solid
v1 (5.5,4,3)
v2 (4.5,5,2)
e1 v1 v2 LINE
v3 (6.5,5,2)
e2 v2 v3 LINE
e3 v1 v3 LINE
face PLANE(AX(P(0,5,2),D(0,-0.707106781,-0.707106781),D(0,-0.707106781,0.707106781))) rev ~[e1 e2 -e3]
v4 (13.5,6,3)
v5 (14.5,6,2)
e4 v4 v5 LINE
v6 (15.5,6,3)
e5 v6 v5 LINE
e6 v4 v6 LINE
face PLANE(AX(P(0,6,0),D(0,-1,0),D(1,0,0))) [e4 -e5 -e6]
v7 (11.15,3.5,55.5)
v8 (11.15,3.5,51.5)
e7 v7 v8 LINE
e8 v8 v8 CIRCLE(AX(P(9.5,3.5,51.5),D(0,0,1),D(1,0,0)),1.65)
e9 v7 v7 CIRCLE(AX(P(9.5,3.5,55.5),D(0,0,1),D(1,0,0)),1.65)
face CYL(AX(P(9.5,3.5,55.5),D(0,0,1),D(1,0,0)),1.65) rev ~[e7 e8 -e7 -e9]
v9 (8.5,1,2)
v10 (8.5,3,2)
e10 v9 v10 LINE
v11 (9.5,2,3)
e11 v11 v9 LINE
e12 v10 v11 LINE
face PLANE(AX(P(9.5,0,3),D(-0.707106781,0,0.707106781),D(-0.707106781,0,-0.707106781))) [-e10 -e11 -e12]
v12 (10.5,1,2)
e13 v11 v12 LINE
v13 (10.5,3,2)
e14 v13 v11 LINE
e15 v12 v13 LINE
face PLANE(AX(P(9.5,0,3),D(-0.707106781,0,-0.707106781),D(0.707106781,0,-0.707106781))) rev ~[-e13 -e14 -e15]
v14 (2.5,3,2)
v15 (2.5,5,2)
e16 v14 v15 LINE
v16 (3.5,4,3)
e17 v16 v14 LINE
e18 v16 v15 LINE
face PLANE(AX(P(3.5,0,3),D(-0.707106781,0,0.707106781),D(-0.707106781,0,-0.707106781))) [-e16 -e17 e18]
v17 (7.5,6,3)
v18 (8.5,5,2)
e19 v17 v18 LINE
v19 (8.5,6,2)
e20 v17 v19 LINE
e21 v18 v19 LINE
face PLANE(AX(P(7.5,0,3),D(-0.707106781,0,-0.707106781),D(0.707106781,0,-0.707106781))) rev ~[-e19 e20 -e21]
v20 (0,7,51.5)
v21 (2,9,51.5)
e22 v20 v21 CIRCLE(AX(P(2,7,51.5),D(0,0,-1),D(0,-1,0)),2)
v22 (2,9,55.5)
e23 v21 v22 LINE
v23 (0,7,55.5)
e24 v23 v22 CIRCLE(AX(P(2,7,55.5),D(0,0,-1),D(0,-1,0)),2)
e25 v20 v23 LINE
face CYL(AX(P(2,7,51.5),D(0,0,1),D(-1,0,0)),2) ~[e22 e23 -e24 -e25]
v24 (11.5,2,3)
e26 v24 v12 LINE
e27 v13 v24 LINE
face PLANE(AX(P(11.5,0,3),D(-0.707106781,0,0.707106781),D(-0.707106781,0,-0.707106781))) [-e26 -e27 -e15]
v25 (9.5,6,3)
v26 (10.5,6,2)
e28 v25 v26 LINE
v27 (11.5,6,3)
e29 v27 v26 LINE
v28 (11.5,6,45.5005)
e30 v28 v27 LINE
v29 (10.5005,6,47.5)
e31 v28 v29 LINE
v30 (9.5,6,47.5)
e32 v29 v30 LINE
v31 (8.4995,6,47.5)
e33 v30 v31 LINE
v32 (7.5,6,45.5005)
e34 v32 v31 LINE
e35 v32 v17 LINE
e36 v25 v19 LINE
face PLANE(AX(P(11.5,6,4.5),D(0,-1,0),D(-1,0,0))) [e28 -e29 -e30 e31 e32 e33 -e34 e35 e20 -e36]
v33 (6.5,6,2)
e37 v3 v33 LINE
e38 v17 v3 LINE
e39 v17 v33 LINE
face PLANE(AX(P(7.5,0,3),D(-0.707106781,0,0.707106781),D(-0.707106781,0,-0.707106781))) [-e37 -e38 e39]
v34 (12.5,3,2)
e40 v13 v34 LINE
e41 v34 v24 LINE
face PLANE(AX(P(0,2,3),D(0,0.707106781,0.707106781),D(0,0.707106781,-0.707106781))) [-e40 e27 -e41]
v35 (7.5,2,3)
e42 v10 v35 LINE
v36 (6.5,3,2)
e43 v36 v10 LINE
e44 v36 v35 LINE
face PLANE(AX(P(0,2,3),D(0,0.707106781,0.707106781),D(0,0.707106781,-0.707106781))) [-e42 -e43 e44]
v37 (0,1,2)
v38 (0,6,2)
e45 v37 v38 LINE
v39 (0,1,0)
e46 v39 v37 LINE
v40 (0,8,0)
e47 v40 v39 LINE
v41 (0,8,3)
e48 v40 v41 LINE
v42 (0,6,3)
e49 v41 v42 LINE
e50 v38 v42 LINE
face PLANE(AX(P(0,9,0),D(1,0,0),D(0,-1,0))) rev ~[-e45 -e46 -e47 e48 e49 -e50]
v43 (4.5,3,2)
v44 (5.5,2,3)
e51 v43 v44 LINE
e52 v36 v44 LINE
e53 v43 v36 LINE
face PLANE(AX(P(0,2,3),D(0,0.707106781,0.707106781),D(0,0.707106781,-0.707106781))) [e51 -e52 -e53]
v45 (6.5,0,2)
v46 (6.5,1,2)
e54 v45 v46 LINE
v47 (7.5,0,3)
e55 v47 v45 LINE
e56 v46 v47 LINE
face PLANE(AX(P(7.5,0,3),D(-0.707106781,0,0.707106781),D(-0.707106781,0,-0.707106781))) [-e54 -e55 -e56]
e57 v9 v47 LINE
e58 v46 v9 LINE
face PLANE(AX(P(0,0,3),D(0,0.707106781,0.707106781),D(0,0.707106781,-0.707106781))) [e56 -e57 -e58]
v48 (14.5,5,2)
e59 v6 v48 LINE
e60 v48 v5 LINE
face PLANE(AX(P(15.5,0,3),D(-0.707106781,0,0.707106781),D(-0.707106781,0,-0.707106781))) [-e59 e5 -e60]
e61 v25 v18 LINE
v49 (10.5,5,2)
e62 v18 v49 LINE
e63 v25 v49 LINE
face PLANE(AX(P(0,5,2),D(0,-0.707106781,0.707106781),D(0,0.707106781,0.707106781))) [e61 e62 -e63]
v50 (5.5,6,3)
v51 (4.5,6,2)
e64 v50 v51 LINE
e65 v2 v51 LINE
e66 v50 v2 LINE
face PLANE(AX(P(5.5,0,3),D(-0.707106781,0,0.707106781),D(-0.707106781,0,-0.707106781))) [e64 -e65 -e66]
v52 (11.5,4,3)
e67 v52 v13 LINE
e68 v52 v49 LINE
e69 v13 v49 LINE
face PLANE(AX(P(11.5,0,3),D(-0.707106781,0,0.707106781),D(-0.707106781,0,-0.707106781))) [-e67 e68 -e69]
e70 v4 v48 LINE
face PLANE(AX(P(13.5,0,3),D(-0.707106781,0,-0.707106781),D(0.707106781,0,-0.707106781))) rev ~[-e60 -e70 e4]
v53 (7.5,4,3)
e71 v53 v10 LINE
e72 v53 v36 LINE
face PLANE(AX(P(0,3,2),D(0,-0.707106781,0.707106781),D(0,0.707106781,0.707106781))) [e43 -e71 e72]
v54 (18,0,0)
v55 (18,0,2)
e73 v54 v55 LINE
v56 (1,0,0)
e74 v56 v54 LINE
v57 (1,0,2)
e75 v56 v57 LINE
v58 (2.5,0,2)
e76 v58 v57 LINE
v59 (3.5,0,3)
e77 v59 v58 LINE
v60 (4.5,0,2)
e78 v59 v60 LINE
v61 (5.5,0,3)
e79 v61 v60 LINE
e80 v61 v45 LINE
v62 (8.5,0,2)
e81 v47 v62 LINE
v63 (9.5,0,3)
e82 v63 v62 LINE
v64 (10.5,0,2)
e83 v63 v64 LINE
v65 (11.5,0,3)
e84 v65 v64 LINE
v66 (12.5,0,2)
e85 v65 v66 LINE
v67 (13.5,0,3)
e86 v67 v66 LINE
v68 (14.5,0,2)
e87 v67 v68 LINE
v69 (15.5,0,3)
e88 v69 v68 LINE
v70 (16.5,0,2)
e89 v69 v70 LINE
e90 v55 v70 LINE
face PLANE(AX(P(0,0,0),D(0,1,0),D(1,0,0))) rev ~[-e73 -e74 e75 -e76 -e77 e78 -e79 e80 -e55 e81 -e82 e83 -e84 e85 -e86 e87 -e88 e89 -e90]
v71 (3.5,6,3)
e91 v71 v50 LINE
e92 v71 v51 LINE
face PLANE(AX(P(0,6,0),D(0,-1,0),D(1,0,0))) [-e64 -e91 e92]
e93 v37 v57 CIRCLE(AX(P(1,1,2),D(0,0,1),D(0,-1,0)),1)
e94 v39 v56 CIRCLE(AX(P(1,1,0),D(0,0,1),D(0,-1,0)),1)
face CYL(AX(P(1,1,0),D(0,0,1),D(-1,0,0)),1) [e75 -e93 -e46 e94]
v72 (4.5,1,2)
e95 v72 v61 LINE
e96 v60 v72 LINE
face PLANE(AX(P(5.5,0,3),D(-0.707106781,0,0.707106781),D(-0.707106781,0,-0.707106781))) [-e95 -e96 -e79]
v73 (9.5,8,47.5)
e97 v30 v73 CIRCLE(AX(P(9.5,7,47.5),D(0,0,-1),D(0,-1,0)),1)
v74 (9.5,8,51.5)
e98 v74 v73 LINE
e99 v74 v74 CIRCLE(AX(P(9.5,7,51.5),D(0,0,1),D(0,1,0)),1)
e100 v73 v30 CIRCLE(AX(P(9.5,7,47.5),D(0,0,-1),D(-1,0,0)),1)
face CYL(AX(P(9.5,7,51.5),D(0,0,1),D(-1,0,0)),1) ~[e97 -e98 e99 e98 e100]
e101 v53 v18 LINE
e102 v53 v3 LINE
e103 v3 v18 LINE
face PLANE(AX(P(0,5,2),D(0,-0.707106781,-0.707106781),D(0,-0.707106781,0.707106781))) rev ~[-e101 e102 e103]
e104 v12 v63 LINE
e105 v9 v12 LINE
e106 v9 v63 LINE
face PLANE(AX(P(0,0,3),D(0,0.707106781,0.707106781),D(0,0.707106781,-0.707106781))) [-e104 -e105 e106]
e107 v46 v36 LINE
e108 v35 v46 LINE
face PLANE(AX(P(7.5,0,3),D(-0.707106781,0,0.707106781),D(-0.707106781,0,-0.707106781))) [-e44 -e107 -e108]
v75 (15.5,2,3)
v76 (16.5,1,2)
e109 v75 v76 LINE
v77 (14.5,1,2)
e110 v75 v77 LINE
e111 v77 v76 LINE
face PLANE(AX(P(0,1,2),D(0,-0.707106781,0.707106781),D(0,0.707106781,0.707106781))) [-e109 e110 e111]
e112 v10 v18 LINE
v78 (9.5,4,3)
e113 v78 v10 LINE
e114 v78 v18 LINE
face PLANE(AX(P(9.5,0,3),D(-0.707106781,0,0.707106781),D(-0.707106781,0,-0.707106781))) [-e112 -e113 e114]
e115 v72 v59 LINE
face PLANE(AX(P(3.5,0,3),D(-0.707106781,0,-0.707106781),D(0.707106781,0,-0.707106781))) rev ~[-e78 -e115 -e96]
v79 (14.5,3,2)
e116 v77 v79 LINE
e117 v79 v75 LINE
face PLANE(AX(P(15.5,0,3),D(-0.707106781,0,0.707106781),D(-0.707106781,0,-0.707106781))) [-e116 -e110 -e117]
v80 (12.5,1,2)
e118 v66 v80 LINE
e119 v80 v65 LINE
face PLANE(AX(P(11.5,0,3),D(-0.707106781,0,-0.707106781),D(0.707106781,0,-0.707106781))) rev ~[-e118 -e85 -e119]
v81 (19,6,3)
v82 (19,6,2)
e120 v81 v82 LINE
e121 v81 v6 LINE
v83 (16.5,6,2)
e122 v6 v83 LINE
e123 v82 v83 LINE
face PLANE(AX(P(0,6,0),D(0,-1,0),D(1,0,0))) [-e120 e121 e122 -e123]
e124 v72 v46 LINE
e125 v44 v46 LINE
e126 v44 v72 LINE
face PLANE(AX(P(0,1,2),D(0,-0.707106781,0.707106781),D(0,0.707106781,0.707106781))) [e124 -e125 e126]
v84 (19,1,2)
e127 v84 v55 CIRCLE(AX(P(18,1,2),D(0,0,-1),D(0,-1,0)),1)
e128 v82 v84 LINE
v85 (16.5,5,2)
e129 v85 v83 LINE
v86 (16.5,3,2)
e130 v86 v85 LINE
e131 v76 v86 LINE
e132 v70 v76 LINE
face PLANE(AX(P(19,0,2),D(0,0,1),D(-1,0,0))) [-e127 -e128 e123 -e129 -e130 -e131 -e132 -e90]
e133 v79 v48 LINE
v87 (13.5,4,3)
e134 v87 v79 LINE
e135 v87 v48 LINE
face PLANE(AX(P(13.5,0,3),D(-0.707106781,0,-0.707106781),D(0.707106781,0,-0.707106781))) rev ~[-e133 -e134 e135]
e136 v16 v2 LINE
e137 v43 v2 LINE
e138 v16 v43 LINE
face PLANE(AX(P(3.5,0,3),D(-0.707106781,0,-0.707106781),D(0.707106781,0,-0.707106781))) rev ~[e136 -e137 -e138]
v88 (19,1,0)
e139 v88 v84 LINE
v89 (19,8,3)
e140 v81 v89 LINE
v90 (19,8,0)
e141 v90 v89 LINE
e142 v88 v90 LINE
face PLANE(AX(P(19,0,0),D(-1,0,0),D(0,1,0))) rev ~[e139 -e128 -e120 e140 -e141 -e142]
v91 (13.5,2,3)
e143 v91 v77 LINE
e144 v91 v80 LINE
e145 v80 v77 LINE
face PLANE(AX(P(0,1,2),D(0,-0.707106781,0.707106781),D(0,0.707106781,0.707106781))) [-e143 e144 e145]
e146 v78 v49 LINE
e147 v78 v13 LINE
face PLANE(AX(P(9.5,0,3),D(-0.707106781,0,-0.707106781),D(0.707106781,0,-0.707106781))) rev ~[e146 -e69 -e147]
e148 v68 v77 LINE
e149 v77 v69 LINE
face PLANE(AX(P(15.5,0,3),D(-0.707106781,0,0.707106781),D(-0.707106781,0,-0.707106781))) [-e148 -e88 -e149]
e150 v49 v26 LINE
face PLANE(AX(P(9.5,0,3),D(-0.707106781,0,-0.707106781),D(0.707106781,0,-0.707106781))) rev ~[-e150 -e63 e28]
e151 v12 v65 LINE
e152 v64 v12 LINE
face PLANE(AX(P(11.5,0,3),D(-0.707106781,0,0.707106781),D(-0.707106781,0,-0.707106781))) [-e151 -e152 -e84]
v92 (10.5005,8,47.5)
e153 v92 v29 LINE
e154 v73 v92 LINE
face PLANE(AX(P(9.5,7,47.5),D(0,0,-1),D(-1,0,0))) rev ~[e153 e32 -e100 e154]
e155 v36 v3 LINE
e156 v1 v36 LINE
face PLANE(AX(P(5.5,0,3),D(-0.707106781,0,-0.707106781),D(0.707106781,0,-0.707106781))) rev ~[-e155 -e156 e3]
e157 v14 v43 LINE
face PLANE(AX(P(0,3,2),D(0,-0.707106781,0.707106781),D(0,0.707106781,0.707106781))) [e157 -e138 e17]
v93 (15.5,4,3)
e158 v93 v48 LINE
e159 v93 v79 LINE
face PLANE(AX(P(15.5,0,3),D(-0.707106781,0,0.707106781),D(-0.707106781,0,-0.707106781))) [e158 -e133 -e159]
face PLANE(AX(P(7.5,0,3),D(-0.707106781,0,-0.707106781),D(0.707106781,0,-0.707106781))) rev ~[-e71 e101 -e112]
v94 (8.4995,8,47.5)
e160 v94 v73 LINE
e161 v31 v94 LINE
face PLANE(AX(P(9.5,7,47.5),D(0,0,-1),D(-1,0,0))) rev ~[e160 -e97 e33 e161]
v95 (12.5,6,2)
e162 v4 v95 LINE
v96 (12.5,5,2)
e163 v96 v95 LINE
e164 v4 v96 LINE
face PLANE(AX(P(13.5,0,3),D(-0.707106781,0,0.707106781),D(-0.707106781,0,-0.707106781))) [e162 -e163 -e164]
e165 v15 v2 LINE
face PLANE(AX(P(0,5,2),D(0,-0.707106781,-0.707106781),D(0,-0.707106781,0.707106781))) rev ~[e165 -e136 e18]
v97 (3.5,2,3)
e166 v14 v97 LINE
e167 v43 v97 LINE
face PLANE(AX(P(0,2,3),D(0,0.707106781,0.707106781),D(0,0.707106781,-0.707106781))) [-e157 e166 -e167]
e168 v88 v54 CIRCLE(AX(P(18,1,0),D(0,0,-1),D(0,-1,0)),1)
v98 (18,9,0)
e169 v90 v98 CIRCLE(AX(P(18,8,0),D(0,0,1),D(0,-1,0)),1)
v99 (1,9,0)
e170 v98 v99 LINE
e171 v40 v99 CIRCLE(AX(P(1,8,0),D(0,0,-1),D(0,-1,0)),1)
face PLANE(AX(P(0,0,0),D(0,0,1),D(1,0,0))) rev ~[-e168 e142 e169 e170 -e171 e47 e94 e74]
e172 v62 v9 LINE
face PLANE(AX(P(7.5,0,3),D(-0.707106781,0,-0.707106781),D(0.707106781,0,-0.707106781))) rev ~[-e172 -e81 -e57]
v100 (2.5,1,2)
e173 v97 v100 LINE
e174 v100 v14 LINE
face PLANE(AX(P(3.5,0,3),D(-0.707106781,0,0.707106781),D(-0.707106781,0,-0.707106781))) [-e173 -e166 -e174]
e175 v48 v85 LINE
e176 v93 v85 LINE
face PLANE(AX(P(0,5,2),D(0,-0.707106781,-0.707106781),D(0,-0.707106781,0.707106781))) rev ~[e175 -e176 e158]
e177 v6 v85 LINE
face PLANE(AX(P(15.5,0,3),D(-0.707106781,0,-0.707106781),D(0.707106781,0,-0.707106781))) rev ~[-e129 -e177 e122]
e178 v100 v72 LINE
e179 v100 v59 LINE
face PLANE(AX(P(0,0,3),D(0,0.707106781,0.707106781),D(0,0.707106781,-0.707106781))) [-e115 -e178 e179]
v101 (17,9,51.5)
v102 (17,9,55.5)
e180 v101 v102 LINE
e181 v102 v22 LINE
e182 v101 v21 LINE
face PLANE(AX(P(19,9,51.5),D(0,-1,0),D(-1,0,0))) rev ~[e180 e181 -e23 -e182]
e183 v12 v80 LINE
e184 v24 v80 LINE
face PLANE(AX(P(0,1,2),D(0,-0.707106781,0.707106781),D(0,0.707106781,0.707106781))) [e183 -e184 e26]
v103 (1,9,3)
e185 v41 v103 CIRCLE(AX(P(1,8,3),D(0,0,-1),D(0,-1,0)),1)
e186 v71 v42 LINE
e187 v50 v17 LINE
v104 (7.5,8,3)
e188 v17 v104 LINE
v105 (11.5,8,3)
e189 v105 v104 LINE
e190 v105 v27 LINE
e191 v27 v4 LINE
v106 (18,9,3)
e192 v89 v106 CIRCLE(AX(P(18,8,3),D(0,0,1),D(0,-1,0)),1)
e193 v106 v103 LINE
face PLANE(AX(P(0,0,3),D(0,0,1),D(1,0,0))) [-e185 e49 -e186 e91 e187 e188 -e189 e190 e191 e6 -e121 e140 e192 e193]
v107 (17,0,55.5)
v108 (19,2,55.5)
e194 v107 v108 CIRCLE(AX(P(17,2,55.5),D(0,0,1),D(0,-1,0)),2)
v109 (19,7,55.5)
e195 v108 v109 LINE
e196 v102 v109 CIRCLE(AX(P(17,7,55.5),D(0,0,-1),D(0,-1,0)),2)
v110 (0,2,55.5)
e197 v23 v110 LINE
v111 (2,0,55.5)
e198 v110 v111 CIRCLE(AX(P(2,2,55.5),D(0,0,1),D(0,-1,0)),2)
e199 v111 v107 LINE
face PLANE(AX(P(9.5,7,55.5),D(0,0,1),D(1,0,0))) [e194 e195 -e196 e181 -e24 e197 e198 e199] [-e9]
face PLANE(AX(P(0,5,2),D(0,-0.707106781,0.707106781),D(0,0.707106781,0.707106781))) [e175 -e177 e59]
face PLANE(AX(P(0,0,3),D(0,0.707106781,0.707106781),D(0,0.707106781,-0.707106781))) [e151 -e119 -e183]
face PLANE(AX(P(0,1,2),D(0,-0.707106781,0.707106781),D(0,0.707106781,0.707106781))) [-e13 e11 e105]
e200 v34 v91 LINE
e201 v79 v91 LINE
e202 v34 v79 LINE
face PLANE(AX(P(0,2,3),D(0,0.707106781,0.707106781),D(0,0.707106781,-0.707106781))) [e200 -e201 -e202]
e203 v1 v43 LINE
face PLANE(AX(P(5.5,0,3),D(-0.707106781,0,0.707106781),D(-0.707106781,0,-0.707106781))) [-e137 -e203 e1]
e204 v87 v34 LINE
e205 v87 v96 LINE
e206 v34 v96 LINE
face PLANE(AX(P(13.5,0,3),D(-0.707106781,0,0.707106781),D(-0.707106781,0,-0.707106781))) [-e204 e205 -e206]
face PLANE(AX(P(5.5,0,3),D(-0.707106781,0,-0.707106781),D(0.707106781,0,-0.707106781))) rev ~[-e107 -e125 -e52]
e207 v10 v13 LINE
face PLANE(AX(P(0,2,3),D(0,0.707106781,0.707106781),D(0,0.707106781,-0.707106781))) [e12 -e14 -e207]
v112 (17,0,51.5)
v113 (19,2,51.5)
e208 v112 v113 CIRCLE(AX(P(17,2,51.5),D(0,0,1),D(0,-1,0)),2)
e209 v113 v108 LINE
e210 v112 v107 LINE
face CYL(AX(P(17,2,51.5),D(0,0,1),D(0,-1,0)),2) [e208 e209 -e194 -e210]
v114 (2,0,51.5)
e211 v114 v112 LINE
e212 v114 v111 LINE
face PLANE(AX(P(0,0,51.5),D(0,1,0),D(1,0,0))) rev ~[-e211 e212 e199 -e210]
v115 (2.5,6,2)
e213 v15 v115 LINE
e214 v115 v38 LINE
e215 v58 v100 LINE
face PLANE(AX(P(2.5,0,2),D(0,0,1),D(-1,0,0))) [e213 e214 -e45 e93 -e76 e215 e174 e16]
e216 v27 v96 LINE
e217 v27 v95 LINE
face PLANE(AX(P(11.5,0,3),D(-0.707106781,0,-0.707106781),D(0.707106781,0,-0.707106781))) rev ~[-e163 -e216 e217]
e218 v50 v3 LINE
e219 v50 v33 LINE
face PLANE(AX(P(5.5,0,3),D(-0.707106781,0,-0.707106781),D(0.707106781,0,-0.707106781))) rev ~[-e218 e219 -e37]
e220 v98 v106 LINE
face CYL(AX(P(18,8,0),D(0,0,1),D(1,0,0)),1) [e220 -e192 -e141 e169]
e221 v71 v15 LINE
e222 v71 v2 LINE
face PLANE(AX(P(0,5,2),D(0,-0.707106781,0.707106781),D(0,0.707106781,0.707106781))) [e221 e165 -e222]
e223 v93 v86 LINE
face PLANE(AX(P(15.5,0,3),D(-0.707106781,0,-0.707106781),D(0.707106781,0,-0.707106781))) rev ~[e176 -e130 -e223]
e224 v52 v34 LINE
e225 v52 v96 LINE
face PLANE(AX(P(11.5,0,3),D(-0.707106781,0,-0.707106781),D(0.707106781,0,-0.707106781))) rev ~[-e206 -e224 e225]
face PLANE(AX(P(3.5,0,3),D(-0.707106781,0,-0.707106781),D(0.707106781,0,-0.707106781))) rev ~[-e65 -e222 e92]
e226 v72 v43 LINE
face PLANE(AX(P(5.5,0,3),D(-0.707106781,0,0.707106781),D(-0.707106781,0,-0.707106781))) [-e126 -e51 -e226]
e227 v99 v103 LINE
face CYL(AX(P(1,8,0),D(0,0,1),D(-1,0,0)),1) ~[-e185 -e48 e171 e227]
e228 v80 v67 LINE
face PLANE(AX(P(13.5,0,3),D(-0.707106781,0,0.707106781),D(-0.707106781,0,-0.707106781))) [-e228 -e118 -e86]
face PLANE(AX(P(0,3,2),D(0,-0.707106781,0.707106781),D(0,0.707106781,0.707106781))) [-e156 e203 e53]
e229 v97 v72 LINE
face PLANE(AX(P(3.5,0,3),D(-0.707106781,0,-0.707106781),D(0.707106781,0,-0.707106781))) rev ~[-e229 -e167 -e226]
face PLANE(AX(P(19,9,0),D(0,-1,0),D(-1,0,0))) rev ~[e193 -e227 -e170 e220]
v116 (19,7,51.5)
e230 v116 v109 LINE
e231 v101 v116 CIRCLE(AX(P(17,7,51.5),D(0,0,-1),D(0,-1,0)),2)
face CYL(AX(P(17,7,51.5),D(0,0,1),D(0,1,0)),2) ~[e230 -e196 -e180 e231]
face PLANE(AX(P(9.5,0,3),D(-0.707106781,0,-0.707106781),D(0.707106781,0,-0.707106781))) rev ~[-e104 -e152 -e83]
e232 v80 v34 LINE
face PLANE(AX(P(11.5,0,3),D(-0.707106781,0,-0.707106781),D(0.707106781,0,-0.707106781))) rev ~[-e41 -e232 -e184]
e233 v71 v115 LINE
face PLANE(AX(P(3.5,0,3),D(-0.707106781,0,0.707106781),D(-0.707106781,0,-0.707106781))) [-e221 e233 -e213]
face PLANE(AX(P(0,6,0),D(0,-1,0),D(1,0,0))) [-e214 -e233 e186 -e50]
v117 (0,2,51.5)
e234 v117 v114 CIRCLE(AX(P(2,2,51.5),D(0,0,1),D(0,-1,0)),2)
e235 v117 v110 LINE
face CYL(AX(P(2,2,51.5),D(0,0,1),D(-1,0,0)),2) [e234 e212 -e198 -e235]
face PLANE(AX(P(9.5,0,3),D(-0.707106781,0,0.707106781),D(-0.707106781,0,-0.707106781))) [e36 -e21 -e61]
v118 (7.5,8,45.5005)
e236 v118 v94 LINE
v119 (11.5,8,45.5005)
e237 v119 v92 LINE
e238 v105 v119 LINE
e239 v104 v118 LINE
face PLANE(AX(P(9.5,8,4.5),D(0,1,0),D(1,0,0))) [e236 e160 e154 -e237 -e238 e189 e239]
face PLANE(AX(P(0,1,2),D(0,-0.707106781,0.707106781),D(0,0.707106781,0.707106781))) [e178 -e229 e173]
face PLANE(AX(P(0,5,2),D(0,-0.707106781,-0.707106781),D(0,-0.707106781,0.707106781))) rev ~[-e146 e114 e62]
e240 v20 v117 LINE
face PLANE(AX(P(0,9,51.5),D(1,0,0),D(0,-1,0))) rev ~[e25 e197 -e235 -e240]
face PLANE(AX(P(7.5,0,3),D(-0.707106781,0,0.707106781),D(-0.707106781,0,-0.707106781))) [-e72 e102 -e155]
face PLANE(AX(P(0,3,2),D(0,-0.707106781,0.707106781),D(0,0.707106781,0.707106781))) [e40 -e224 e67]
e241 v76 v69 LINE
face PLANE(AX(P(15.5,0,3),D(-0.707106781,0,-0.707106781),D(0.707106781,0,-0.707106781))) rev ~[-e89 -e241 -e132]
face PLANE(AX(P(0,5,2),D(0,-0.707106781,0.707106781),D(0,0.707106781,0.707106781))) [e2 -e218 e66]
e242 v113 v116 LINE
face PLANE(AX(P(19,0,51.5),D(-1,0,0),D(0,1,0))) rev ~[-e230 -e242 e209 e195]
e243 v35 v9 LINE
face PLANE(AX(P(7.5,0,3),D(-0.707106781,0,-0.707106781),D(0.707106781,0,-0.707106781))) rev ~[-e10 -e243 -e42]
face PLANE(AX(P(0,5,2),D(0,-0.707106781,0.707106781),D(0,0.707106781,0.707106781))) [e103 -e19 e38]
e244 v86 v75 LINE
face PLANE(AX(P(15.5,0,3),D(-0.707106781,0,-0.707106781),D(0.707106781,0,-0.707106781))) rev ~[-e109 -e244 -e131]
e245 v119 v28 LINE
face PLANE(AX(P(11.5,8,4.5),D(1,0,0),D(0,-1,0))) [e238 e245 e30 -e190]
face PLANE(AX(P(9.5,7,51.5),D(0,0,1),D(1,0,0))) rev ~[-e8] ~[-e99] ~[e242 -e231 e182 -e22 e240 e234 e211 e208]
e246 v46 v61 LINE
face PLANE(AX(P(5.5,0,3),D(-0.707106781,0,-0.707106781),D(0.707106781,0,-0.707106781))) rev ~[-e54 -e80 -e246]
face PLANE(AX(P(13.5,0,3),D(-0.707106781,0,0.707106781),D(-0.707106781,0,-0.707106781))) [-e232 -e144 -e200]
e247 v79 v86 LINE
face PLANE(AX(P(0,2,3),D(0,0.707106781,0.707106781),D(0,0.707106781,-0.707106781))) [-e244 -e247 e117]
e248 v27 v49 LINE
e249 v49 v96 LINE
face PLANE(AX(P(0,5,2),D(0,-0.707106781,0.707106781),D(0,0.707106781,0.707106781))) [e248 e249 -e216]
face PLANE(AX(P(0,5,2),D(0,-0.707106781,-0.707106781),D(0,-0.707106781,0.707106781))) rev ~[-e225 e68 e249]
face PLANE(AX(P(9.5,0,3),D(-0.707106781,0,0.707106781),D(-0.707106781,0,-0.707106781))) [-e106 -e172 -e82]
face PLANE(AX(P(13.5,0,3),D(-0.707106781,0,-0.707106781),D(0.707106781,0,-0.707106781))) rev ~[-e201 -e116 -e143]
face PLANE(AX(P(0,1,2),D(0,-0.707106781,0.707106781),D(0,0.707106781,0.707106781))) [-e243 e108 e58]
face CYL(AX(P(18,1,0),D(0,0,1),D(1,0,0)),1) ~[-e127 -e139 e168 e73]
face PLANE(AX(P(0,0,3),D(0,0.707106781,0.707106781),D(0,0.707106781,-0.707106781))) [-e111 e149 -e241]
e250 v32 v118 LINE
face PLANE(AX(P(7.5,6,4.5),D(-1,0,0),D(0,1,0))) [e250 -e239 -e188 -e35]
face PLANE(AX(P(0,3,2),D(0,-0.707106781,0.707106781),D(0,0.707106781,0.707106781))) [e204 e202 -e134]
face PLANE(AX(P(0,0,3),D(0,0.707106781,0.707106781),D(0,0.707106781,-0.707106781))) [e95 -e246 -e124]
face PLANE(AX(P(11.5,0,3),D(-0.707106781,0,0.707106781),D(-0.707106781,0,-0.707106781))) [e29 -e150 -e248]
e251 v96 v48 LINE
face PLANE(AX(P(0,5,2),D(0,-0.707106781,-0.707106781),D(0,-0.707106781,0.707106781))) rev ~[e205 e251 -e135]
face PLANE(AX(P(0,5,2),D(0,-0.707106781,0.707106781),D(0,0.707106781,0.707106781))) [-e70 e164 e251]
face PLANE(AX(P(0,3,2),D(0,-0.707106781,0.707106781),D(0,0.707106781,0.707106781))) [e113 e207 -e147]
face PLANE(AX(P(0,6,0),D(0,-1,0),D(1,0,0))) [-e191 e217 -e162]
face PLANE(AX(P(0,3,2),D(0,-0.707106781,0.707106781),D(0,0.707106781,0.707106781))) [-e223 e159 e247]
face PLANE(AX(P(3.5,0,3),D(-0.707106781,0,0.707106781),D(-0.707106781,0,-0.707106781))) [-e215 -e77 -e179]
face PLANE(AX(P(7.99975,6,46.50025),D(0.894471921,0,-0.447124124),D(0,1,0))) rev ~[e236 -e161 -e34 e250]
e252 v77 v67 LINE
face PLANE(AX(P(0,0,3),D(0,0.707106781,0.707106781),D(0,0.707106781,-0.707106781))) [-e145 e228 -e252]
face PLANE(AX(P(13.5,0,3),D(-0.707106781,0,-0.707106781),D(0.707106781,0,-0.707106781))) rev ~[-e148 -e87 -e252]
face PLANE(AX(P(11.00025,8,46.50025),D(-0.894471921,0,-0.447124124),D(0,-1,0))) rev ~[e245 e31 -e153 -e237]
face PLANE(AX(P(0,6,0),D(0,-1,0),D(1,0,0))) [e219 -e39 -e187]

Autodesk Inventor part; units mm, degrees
ref_plane "YZ Plane" through (0, 0, 0) normal (1, 0, 0) x (0, 1, 0)
ref_plane "XZ Plane" through (0, 0, 0) normal (0, 1, 0) x (-1, 0, 0)
ref_plane "XY Plane" through (0, 0, 0) normal (0, 0, 1) x (1, 0, 0)
sketch "Sketch1" plane through (0, 0, 0) normal (0, 0, 1) x (1, 0, 0)
  line L0 (0, 0) -> (19, 0)
  line L1 (19, 0) -> (19, 9)
  line L2 (19, 9) -> (0, 9)
  line L3 (0, 9) -> (0, 0)
  point P0 (9.5, 9)
  dimension "d0" = 19
  dimension "d1" = 9
extrude "Extrusion1" add sketch "Sketch1" along normal blind 3
sketch "Sketch2" plane through (0, 0, 3) normal (0, 0, 1) x (1, 0, 0)
  line L0 (19, 9) -> (0, 9) projected
  circle A0 centre (9.5, 7) radius 1
  point P0 (0, 0)
  point P1 (9.5, 9)
  dimension "d4" = 2
  dimension "d5" = 2
extrude "Extrusion2" add sketch "Sketch2" along normal blind 1.5
sketch "Sketch6" plane through (9.5, 7, 4.5) normal (0, 0, 1) x (1, 0, 0)
  circle A0 centre (0, 0) radius 1 projected
  line L0 (2, -1) -> (-2, -1)
  line L1 (-2, -1) -> (-2, 1)
  line L2 (-2, 1) -> (2, 1)
  line L3 (2, 1) -> (2, -1)
  line L4 (2, -1) -> (-2, 1) construction
  line L5 (-2, -1) -> (2, 1) construction
  point P0 (-9.5, -7)
  dimension "d13" = 4
extrude "Extrusion5" add sketch "Sketch6" along normal blind 47
sketch "Sketch7" plane through (9.5, 7, 51.5) normal (0, 0, 1) x (1, 0, 0)
  circle A0 centre (0, 0) radius 1 projected
  line L0 (-9.5, -7) -> (9.5, -7) projected
  line L1 (9.5, -7) -> (9.5, 2) projected
  line L2 (9.5, 2) -> (-9.5, 2) projected
  line L3 (-9.5, 2) -> (-9.5, -7) projected
  arc A1 (0, -1) -> (0, 1) centre (0, 0) ccw projected
  arc A2 (0, 1) -> (0, -1) centre (0, 0) ccw projected
extrude "Extrusion6" add sketch "Sketch7" along normal blind 4 contours A0 | L3 L2 L1 L0
sketch "Sketch8" plane through (9.5, 7, 55.5) normal (0, 0, 1) x (1, 0, 0)
  line L0 (-9.5, -7) -> (9.5, -7) projected
  line L1 (9.5, -7) -> (9.5, 2) projected
  line L2 (9.5, 2) -> (-9.5, 2) projected
  line L3 (-9.5, 2) -> (-9.5, -7) projected
  circle A0 centre (0, -3.5) radius 1.65
  dimension "d18" = 3.3
  dimension "d66" = 5.5
extrude "Extrusion7" cut sketch "Sketch8" against normal blind 4 contours A0
sketch "Sketch10" plane through (0, 0, 0) normal (-1, 0, 0) x (0, 0, 1)
  line L0 (0, 0) -> (3, 0) projected
  line L1 (3, 9) -> (3, 0) projected
  line L2 (3, 0) -> (2, 0)
  line L3 (2, 0) -> (2, 6)
  line L4 (2, 6) -> (3, 6)
  line L5 (3, 6) -> (3, 0)
  line L6 (3, 0) -> (2, 1)
  line L7 (3, 0) -> (4.4142, 0) construction
  line L8 (2, 1) -> (3, 2)
  line L9 (3, 0) -> (3, 9) projected
  line L10 (3, 2) -> (2, 3)
  line L11 (2, 3) -> (3, 4)
  line L12 (2, 5) -> (3, 4)
  line L13 (2, 5) -> (3, 6)
  dimension "d23" = 1
  dimension "d24" = 6
  dimension "d25" = 135
  dimension "d26" = 90
extrude "Extrusion8" cut sketch "Sketch10" against normal up to next contours L6 L8 L1 | L10 L11 L1 | L12 L13 L1
sketch "Sketch11" plane through (0, 0, 0) normal (0, -1, 0) x (1, 0, 0)
  line L0 (0, 3) -> (9.5, 3) projected
  line L1 (0, 3) -> (19, 3)
  line L2 (19, 3) -> (19, 2)
  line L3 (19, 2) -> (8.5, 2)
  line L4 (0, 2) -> (0, 3)
  line L5 (0, 3) -> (0, 2) projected
  line L6 (0, 3) -> (1.4142, 3) construction
  line L7 (19, 3) -> (0, 3) projected
  line L8 (9.5, 3) -> (8.5, 2)
  line L9 (9.5, 3) -> (10.9142, 3) construction
  line L10 (10.5, 2) -> (8.5, 2)
  line L11 (9.5, 3) -> (10.5, 2)
  line L12 (10.5, 2) -> (8.5, 2)
  line L13 (8.5, 2) -> (0, 2)
  line L14 (7.5, 3) -> (8.5, 2)
  line L15 (8.5, 2) -> (6.5, 2)
  line L16 (7.5, 3) -> (6.5, 2)
  line L17 (5.5, 3) -> (6.5, 2)
  line L18 (6.5, 2) -> (4.5, 2)
  line L19 (5.5, 3) -> (4.5, 2)
  line L20 (3.5, 3) -> (4.5, 2)
  line L21 (4.5, 2) -> (2.5, 2)
  line L22 (3.5, 3) -> (2.5, 2)
  line L23 (12.5, 2) -> (10.5, 2)
  line L24 (11.5, 3) -> (12.5, 2)
  line L25 (11.5, 3) -> (10.5, 2)
  line L26 (14.5, 2) -> (12.5, 2)
  line L27 (13.5, 3) -> (14.5, 2)
  line L28 (13.5, 3) -> (12.5, 2)
  line L29 (16.5, 2) -> (14.5, 2)
  line L30 (15.5, 3) -> (16.5, 2)
  line L31 (15.5, 3) -> (14.5, 2)
  point P0 (0, 0)
  dimension "d36" = 10
  dimension "d30" = 135
  dimension "d33" = 2
  dimension "d40" = 2
extrude "Extrusion9" cut sketch "Sketch11" against normal blind 6 contours L0 L22 L13 L4 | L0 L19 L20 | L0 L16 L17 | L0 L8 L14 | L1 L25 L11 | L1 L28 L24 | L1 L31 L27 | L1 L2 L3 L30
fillet "Fillet2" radius 1 4 edges at (19, 0, 1) (19, 9, 1.5) (0, 0, 1) (0, 9, 1.5)
fillet "Fillet3" radius 2 4 edges at (19, 0, 53.5) (19, 9, 53.5) (0, 0, 53.5) (0, 9, 53.5)
extrude "Extrusion10" add sketch "Sketch6" against normal up to surface (1.5 mm away) contours A0 L2 L3 L0 | A0 L0 L1 L2
sketch "Sketch12" plane through (9.5, 7, 51.5) normal (0, 0, -1) x (-1, 0, 0)
  circle A0 centre (0, 0) radius 1 projected
  line L0 (-2, 1) -> (-2, -1) projected
  line L1 (-2, -1) -> (2, -1) projected
  line L2 (2, 1) -> (-2, 1) projected
  line L3 (2, -1) -> (2, 1) projected
  point P0 (9.5, -7)
extrude "Extrusion11" cut sketch "Sketch12" along normal blind 4 contours A0 L2 L3 L1 | A0 L1 L0 L2
chamfer "Chamfer3" distance 2 distance2 1 1 edges at (7.5, 7, 47.5) measured on face at (7.5, 7.3333, 32.6667)
chamfer "Chamfer4" distance 2 distance2 1 1 edges at (11.5, 7, 47.5) measured on face at (11.5, 6.6667, 32.6667)
properties part number "Clamp-part1-Base9x19mm-narrowTOP-maxSample40mm"
